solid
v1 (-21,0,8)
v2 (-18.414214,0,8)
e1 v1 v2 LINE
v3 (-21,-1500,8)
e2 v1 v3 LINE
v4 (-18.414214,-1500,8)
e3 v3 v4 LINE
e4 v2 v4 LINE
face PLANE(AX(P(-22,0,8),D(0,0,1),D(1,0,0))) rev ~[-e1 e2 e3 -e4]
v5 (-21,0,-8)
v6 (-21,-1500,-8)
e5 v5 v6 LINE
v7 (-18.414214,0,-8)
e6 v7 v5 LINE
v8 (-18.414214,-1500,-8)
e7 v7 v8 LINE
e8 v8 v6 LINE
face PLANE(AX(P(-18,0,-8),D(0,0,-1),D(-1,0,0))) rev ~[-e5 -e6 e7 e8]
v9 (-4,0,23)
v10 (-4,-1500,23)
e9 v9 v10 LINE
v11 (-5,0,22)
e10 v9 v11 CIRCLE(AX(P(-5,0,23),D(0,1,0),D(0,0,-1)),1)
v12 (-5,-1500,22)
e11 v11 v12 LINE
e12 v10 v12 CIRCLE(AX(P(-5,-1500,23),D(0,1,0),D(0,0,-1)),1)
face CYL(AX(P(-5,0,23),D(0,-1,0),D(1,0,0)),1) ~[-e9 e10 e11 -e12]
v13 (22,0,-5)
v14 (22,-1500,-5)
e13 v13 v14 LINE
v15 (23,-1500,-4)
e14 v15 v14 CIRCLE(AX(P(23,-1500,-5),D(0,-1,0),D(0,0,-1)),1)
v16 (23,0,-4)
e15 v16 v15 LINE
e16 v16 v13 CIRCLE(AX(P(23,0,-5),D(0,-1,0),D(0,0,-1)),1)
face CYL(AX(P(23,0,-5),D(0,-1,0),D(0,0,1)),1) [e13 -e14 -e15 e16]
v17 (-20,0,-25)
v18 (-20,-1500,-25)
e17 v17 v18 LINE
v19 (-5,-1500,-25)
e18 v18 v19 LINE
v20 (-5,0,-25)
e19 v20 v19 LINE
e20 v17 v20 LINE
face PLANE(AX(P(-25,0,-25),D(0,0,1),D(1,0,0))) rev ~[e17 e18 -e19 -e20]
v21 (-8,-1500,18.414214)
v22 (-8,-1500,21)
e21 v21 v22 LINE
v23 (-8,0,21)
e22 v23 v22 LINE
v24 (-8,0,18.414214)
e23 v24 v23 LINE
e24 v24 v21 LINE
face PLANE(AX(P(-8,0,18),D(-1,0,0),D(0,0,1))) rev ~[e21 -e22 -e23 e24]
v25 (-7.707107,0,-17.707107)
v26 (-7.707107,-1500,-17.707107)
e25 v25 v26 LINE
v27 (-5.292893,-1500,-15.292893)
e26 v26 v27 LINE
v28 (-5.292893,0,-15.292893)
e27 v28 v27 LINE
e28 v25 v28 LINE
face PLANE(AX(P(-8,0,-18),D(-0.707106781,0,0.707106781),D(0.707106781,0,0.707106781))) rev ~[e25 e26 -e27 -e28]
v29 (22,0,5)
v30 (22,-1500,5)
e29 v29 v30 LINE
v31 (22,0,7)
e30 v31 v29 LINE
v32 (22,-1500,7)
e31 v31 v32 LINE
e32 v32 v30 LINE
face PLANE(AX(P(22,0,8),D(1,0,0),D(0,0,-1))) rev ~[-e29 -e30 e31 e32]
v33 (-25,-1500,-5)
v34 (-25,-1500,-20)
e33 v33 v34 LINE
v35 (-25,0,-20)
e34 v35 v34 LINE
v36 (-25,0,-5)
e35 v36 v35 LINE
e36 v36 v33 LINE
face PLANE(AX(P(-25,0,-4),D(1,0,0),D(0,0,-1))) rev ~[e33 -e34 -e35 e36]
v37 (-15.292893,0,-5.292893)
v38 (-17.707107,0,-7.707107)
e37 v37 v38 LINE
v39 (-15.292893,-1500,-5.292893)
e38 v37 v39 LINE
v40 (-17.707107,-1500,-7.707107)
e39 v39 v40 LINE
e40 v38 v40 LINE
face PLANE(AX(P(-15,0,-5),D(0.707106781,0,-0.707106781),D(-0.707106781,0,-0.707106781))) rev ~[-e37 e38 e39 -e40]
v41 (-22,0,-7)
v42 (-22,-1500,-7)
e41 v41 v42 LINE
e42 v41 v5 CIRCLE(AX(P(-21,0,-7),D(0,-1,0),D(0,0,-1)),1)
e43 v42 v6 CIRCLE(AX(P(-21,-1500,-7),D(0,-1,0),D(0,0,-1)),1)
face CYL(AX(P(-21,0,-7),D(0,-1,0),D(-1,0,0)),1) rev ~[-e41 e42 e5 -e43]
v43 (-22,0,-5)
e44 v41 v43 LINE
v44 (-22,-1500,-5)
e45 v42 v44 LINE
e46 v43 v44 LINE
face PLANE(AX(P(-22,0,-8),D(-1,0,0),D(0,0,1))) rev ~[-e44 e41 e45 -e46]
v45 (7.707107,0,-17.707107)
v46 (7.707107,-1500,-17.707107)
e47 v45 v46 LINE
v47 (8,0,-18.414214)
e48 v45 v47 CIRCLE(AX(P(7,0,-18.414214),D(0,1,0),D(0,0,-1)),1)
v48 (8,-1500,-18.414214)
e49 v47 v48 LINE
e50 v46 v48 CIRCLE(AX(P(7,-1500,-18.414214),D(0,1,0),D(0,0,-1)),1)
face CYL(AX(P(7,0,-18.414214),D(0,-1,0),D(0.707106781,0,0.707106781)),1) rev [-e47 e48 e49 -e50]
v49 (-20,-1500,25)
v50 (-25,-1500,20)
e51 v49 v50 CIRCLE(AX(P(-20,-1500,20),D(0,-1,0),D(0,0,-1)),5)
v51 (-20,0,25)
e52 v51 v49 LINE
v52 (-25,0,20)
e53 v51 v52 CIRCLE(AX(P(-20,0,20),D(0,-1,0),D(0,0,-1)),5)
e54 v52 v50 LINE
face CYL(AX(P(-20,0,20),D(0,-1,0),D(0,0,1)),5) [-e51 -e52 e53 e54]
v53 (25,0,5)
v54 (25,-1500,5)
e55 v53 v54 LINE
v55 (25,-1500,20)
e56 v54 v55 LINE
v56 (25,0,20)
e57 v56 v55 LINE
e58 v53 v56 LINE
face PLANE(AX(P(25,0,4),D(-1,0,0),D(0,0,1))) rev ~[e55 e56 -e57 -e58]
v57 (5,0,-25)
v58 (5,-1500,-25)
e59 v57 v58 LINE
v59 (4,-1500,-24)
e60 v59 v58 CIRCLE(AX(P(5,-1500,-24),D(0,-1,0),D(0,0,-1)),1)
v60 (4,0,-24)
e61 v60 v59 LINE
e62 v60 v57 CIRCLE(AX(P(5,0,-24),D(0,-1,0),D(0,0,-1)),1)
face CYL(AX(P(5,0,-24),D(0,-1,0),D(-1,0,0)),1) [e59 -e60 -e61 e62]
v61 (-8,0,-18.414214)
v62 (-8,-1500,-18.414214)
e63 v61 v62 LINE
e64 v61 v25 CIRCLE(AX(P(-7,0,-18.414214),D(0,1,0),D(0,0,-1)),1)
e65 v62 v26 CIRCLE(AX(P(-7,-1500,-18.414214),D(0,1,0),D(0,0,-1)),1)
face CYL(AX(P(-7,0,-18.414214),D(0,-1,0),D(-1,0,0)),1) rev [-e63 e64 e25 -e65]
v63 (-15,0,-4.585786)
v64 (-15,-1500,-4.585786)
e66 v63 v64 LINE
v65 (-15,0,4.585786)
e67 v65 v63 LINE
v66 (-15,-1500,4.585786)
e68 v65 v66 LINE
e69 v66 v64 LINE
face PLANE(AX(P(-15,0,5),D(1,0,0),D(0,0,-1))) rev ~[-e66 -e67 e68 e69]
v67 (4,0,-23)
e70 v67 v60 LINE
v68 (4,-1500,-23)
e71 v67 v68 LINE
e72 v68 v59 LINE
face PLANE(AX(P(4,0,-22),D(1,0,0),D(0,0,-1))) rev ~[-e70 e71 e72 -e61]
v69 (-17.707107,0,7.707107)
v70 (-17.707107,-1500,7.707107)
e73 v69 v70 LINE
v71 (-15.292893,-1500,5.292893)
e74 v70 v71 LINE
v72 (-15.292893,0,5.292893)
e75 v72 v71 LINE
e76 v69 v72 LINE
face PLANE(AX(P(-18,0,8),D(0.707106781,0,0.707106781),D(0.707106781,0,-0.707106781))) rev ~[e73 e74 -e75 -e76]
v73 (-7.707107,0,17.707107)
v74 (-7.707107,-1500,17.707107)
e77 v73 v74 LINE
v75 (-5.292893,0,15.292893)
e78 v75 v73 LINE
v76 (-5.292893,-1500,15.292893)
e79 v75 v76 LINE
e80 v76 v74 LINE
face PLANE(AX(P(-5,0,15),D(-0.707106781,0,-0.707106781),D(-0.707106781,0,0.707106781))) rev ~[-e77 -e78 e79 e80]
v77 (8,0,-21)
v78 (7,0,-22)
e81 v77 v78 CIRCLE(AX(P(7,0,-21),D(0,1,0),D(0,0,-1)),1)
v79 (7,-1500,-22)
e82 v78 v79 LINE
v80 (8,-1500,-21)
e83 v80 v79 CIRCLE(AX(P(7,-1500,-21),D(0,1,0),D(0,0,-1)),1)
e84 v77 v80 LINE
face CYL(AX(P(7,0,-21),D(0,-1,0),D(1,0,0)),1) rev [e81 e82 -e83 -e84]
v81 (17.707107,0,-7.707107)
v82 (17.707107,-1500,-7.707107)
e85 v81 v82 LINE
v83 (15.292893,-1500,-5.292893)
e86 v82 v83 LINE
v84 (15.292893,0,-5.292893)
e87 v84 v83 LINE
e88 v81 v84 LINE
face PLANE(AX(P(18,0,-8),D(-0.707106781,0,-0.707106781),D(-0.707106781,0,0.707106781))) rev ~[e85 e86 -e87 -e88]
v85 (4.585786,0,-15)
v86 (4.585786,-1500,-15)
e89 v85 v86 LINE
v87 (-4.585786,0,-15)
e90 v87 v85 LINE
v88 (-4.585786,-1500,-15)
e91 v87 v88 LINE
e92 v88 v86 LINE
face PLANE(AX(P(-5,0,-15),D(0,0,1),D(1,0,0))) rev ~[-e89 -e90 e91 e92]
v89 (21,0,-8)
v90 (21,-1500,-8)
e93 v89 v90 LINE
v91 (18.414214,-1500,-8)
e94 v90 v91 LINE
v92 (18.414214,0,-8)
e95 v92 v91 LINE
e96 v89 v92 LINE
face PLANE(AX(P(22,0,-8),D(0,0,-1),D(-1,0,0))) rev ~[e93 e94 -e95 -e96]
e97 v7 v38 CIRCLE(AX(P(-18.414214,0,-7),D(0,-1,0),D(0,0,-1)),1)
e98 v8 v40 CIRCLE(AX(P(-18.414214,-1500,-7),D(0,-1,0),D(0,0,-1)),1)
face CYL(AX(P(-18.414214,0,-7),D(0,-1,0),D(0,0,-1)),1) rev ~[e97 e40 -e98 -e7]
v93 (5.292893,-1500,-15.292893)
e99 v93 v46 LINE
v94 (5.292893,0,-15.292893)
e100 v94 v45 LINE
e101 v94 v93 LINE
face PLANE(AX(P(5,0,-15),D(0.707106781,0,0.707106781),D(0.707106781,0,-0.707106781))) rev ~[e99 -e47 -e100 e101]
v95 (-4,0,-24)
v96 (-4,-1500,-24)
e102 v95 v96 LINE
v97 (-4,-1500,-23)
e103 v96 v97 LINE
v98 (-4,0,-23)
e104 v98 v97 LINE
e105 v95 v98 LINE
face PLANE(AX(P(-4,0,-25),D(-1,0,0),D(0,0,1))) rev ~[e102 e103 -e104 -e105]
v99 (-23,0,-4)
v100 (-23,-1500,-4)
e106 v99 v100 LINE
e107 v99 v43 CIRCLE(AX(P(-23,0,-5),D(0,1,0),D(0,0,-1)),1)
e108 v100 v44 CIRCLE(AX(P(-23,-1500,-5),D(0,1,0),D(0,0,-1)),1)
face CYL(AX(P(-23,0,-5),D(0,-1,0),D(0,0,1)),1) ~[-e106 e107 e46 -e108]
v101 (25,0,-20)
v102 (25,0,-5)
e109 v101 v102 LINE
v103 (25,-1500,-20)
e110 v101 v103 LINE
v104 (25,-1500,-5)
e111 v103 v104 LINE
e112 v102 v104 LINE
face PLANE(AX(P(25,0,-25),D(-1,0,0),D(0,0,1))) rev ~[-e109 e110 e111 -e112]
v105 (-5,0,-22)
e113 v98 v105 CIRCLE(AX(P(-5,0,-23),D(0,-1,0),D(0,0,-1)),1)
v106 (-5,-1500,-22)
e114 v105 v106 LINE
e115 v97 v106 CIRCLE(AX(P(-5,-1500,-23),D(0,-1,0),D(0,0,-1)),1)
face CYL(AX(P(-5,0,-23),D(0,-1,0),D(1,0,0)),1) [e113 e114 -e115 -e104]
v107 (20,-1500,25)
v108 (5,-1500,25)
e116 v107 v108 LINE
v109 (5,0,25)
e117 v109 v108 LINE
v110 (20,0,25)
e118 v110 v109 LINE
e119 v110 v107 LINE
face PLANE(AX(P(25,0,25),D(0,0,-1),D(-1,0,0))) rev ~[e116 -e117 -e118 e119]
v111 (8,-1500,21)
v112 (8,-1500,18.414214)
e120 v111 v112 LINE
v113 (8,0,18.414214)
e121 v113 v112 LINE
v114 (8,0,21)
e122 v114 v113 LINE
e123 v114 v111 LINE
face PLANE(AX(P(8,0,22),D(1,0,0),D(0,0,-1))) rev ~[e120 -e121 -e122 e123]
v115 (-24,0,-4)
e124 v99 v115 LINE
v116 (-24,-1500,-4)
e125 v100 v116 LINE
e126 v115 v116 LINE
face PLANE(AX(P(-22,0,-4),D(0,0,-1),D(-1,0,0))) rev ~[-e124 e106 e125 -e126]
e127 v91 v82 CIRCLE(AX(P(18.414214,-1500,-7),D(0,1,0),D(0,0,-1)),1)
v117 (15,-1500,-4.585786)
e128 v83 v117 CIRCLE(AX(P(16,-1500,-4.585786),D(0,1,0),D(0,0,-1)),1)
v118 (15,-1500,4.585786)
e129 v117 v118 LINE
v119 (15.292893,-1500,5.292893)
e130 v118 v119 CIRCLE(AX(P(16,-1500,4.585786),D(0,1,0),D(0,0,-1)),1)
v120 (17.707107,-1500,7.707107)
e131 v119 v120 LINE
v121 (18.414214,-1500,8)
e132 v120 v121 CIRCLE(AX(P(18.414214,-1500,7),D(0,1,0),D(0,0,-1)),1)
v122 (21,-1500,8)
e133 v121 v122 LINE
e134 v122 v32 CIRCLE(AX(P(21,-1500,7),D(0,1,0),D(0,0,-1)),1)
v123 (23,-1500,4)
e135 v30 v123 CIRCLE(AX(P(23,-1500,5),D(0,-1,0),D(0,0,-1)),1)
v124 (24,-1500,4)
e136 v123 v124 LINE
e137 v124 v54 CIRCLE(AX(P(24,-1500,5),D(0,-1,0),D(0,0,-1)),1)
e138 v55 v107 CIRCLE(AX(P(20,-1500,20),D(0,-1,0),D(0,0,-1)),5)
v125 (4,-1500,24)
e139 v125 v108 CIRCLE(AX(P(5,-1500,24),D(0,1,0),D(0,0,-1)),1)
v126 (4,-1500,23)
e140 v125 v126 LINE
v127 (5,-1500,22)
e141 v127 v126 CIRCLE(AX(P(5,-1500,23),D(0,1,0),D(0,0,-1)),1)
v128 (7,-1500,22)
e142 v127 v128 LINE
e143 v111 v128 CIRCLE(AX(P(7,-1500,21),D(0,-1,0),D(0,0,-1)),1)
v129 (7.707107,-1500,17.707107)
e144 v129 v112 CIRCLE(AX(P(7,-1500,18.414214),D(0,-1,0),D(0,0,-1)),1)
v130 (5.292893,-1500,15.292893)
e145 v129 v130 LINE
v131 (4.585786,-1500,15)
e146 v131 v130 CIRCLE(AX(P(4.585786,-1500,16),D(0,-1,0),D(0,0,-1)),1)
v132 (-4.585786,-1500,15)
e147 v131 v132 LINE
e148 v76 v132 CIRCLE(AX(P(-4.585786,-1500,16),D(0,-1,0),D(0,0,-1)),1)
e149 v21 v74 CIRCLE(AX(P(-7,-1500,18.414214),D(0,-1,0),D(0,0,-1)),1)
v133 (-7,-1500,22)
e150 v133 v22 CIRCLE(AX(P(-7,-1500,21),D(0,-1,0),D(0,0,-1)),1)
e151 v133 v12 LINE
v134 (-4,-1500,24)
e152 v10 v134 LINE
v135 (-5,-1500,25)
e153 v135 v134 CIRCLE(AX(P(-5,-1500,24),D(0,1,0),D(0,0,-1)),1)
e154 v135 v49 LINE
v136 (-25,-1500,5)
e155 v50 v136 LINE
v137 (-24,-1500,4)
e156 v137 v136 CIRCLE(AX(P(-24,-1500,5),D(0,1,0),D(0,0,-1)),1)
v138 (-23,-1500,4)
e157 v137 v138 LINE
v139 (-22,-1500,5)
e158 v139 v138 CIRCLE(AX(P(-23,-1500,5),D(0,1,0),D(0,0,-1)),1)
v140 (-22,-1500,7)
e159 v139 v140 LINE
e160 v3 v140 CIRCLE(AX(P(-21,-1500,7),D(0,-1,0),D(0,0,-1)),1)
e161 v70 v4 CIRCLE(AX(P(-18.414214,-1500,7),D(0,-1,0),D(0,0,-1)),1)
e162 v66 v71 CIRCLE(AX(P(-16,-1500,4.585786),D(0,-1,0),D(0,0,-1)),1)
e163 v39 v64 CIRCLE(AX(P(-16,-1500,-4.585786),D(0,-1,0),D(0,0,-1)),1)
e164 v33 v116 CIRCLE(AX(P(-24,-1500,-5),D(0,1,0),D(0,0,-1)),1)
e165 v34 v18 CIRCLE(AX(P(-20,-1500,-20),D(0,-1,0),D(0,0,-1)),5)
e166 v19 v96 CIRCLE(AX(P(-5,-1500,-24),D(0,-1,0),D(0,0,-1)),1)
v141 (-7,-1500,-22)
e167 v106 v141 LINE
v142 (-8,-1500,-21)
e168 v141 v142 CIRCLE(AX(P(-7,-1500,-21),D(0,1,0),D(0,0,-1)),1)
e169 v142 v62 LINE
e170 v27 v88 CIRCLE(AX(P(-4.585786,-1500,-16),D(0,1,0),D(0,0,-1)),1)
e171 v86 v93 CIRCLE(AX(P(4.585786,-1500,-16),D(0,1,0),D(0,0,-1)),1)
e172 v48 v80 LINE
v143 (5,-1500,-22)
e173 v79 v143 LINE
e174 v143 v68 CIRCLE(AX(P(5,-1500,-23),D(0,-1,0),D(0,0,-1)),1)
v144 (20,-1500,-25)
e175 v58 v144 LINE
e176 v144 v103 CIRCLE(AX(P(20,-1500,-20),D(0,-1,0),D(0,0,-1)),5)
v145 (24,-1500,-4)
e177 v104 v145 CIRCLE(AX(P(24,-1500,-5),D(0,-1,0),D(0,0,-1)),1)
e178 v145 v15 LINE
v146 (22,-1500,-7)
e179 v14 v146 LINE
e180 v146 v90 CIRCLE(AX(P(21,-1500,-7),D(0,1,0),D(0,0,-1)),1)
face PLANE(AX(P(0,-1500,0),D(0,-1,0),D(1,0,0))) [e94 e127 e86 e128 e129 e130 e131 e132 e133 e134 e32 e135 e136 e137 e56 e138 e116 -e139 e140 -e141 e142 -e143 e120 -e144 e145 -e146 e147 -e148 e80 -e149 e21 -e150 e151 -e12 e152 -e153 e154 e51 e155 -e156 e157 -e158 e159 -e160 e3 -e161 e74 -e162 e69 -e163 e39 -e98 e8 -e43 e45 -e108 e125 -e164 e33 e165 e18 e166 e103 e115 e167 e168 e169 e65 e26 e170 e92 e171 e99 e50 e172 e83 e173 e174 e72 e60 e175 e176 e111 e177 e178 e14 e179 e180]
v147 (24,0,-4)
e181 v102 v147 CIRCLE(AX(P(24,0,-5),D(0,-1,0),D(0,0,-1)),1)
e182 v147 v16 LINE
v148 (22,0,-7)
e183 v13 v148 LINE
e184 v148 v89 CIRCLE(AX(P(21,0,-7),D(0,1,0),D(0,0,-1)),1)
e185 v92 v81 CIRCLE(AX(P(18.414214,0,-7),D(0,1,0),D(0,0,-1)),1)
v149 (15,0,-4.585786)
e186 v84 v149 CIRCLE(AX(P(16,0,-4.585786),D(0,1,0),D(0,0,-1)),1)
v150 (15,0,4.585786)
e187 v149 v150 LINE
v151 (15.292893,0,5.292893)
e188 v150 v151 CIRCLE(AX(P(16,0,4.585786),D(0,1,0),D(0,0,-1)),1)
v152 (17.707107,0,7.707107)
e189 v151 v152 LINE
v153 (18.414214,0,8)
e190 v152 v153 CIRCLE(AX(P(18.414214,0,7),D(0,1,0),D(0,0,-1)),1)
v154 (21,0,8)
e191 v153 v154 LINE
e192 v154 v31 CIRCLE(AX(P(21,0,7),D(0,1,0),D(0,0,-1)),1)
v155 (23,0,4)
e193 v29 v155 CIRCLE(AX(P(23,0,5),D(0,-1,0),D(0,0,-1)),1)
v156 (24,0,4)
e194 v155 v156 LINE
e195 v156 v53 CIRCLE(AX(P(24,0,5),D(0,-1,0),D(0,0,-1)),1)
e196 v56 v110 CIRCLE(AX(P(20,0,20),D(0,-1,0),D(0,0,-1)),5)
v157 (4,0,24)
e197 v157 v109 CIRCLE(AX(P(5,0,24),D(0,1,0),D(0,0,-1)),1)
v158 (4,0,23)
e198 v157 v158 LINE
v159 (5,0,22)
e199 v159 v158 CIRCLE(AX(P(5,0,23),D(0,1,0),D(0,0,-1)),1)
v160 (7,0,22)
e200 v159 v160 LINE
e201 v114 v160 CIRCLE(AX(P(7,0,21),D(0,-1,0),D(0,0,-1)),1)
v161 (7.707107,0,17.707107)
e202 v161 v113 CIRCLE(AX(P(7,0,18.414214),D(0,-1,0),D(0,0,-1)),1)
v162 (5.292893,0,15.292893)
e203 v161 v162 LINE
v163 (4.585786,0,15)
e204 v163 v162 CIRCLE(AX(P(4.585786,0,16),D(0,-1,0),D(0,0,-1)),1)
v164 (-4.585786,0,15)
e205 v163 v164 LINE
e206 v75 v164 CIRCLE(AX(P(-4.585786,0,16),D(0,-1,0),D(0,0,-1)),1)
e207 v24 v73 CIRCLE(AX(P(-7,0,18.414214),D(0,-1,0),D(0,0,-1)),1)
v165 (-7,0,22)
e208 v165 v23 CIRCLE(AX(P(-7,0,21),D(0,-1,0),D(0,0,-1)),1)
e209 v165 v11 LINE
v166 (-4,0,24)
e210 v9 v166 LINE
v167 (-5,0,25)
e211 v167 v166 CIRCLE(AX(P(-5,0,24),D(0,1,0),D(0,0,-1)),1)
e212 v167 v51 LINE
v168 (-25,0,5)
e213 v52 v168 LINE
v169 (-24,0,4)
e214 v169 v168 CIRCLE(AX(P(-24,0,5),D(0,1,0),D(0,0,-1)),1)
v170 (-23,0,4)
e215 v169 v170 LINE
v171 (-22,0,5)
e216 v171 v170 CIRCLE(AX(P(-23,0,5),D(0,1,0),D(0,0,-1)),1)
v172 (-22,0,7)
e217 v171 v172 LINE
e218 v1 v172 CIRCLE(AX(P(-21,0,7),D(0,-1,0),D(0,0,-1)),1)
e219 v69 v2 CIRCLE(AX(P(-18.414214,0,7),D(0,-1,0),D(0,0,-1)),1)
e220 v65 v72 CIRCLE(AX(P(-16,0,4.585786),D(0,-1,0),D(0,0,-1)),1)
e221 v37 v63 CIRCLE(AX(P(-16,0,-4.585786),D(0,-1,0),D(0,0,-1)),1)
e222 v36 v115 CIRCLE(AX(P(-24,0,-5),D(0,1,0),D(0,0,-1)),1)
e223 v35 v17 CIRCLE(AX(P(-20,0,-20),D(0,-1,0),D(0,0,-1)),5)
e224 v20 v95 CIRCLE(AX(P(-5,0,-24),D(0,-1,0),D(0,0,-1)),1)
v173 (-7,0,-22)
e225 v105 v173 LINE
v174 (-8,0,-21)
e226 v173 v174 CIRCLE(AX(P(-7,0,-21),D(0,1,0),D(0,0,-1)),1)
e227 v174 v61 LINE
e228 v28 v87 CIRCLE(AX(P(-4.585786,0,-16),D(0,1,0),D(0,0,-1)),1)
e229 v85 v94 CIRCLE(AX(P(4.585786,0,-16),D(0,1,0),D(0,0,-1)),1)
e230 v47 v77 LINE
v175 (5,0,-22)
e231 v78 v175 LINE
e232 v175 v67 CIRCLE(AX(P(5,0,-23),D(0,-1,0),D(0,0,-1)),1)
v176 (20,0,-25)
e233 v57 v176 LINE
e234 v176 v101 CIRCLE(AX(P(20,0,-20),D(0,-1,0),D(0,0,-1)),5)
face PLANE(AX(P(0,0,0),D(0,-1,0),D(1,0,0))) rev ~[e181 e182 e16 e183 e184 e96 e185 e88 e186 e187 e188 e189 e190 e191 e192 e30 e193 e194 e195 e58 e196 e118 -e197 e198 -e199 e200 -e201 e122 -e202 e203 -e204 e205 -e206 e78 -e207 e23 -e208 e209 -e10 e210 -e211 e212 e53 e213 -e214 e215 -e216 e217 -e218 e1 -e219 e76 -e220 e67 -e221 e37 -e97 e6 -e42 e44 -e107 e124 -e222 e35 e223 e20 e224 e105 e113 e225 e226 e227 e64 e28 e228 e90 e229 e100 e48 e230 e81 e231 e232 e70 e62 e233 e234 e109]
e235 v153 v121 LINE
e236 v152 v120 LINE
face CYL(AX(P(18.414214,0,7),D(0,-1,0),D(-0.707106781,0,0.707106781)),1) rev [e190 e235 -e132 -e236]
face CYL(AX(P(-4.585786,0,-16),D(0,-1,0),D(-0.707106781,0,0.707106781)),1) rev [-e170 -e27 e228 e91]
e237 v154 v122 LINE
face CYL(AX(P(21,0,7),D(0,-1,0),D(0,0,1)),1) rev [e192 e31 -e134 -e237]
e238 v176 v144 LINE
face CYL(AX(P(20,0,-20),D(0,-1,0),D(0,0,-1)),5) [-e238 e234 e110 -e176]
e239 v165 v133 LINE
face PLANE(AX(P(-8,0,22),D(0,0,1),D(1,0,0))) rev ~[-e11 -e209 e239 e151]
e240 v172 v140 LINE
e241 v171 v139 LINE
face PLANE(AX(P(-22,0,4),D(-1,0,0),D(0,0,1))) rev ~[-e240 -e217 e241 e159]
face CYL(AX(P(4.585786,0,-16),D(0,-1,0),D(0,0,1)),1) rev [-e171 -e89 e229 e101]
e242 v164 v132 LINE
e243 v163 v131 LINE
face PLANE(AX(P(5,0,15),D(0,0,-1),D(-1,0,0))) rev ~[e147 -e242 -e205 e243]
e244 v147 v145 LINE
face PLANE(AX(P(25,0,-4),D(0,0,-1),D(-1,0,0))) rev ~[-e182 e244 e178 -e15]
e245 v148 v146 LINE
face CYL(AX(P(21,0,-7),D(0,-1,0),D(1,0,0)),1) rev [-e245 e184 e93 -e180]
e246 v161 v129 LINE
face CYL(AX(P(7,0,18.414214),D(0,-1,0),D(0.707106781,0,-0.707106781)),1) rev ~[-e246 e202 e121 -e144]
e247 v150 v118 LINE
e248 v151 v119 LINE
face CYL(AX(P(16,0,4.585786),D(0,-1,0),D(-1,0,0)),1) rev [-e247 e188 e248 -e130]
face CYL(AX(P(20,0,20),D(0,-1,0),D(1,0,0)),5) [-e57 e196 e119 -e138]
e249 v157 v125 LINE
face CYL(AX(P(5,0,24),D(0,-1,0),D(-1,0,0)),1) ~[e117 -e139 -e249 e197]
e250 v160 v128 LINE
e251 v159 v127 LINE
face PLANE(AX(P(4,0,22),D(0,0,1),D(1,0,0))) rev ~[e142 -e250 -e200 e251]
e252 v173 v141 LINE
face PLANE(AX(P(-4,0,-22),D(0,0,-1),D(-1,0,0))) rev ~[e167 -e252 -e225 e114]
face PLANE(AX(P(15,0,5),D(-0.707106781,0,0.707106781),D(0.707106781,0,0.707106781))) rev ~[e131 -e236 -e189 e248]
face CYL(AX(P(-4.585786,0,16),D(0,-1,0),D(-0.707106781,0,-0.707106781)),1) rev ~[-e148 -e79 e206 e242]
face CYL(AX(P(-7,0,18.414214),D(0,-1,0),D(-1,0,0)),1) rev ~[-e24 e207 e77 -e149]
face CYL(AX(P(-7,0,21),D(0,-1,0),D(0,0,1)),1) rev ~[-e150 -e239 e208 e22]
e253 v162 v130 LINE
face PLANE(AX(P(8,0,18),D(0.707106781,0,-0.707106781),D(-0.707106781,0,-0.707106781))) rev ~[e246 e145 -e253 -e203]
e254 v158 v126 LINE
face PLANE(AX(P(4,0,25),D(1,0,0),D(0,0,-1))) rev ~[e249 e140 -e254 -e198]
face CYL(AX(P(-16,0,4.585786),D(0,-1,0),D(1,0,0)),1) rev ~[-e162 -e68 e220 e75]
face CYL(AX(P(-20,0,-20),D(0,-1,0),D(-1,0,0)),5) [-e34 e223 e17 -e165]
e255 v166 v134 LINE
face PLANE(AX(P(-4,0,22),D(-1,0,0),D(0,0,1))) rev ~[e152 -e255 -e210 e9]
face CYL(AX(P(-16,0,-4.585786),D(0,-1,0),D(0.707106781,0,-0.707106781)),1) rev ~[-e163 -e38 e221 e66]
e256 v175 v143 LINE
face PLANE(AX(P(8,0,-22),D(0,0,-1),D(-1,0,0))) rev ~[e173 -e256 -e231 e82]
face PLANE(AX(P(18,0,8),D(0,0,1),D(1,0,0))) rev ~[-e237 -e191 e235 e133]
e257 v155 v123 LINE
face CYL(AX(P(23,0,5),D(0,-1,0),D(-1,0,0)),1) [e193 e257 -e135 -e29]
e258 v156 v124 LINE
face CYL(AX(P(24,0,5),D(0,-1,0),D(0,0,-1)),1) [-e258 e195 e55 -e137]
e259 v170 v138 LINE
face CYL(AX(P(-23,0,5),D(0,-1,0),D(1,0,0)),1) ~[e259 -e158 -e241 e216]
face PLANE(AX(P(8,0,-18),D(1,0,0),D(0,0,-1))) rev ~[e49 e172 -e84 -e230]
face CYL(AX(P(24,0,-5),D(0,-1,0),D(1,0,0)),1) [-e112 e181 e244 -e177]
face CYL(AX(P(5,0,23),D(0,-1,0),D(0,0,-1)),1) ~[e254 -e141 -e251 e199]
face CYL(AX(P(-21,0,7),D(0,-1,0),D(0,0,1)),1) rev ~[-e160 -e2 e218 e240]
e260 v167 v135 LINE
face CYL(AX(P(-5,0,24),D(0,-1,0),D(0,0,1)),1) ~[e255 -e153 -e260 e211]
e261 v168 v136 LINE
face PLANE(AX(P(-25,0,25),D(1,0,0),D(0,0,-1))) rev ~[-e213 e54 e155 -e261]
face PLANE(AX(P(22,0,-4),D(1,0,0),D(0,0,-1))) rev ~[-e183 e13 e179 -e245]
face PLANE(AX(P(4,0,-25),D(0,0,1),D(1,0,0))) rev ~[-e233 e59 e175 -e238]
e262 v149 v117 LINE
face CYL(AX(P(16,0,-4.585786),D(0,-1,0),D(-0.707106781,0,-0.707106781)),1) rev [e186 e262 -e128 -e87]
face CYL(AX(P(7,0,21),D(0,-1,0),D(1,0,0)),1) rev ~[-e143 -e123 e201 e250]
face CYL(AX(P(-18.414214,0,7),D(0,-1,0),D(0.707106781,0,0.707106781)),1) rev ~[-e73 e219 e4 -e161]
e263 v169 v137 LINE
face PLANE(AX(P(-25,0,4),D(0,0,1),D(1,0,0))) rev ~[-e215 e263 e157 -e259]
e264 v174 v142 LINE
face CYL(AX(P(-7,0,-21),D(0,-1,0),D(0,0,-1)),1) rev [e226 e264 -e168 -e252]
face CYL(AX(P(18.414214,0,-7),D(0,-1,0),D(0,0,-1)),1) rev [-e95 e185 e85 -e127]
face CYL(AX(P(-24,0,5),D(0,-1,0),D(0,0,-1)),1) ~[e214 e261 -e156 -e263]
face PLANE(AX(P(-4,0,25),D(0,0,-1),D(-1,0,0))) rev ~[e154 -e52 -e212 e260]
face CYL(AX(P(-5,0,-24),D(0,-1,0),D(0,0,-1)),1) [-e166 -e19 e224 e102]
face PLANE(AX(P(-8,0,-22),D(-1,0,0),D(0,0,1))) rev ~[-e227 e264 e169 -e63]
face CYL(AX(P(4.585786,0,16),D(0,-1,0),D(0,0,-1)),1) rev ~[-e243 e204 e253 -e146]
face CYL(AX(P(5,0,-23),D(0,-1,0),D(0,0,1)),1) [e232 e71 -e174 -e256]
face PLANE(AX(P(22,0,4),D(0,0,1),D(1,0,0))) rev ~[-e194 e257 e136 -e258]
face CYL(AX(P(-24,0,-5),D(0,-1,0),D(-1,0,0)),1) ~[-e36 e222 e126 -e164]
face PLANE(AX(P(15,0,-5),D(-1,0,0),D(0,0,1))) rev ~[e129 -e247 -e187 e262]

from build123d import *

# Parameters (mm, degrees)
F1_DEPTH = 1500
F2_R     = 5
F3_R     = 1


with BuildPart() as f1:
    # F0 (on Front) → F1 (new body)
    with BuildSketch(Plane.XZ):
        Polygon((-15, 5), (-15, 0), (-15, -5), (-18, -8), (-22, -8), (-22, -4), (-25, -4), (-25, -25), (-4, -25), (-4, -22), (-8, -22), (-8, -18), (-5, -15), (0, -15), (5, -15), (8, -18), (8, -22), (4, -22), (4, -25), (25, -25), (25, -4), (22, -4), (22, -8), (18, -8), (15, -5), (15, 0), (15, 5), (18, 8), (22, 8), (22, 4), (25, 4), (25, 25), (4, 25), (4, 22), (8, 22), (8, 18), (5, 15), (0, 15), (-5, 15), (-8, 18), (-8, 22), (-4, 22), (-4, 25), (-25, 25), (-25, 4), (-22, 4), (-22, 8), (-18, 8), align=None)
    extrude(amount=F1_DEPTH)

    # F2
    f2_edges = [f1.edges().sort_by_distance(p)[0] for p in [
        (25, -750, 25),
        (25, -750, -25),
        (-25, -750, 25),
        (-25, -750, -25),
    ]]
    fillet(f2_edges, radius=F2_R)

    # F3
    f3_edges = [f1.edges().sort_by_distance(p)[0] for p in [
        (-4, -750, 25),
        (4, -750, 25),
        (4, -750, 22),
        (8, -750, 18),
        (5, -750, 15),
        (-8, -750, 18),
        (-5, -750, 15),
        (-8, -750, 22),
        (15, -750, 5),
        (15, -750, -5),
        (22, -750, 8),
        (22, -750, 4),
        (25, -750, 4),
        (8, -750, 22),
        (-4, -750, 22),
        (18, -750, -8),
        (22, -750, -8),
        (22, -750, -4),
        (25, -750, -4),
        (4, -750, -25),
        (8, -750, -22),
        (-8, -750, -18),
        (-5, -750, -15),
        (-4, -750, -22),
        (-4, -750, -25),
        (-8, -750, -22),
        (18, -750, 8),
        (8, -750, -18),
        (5, -750, -15),
        (4, -750, -22),
        (-25, -750, 4),
        (-22, -750, 4),
        (-22, -750, 8),
        (-18, -750, 8),
        (-22, -750, -4),
        (-25, -750, -4),
        (-18, -750, -8),
        (-15, -750, 5),
        (-15, -750, -5),
        (-22, -750, -8),
    ]]
    fillet(f3_edges, radius=F3_R)


solid = f1.part
